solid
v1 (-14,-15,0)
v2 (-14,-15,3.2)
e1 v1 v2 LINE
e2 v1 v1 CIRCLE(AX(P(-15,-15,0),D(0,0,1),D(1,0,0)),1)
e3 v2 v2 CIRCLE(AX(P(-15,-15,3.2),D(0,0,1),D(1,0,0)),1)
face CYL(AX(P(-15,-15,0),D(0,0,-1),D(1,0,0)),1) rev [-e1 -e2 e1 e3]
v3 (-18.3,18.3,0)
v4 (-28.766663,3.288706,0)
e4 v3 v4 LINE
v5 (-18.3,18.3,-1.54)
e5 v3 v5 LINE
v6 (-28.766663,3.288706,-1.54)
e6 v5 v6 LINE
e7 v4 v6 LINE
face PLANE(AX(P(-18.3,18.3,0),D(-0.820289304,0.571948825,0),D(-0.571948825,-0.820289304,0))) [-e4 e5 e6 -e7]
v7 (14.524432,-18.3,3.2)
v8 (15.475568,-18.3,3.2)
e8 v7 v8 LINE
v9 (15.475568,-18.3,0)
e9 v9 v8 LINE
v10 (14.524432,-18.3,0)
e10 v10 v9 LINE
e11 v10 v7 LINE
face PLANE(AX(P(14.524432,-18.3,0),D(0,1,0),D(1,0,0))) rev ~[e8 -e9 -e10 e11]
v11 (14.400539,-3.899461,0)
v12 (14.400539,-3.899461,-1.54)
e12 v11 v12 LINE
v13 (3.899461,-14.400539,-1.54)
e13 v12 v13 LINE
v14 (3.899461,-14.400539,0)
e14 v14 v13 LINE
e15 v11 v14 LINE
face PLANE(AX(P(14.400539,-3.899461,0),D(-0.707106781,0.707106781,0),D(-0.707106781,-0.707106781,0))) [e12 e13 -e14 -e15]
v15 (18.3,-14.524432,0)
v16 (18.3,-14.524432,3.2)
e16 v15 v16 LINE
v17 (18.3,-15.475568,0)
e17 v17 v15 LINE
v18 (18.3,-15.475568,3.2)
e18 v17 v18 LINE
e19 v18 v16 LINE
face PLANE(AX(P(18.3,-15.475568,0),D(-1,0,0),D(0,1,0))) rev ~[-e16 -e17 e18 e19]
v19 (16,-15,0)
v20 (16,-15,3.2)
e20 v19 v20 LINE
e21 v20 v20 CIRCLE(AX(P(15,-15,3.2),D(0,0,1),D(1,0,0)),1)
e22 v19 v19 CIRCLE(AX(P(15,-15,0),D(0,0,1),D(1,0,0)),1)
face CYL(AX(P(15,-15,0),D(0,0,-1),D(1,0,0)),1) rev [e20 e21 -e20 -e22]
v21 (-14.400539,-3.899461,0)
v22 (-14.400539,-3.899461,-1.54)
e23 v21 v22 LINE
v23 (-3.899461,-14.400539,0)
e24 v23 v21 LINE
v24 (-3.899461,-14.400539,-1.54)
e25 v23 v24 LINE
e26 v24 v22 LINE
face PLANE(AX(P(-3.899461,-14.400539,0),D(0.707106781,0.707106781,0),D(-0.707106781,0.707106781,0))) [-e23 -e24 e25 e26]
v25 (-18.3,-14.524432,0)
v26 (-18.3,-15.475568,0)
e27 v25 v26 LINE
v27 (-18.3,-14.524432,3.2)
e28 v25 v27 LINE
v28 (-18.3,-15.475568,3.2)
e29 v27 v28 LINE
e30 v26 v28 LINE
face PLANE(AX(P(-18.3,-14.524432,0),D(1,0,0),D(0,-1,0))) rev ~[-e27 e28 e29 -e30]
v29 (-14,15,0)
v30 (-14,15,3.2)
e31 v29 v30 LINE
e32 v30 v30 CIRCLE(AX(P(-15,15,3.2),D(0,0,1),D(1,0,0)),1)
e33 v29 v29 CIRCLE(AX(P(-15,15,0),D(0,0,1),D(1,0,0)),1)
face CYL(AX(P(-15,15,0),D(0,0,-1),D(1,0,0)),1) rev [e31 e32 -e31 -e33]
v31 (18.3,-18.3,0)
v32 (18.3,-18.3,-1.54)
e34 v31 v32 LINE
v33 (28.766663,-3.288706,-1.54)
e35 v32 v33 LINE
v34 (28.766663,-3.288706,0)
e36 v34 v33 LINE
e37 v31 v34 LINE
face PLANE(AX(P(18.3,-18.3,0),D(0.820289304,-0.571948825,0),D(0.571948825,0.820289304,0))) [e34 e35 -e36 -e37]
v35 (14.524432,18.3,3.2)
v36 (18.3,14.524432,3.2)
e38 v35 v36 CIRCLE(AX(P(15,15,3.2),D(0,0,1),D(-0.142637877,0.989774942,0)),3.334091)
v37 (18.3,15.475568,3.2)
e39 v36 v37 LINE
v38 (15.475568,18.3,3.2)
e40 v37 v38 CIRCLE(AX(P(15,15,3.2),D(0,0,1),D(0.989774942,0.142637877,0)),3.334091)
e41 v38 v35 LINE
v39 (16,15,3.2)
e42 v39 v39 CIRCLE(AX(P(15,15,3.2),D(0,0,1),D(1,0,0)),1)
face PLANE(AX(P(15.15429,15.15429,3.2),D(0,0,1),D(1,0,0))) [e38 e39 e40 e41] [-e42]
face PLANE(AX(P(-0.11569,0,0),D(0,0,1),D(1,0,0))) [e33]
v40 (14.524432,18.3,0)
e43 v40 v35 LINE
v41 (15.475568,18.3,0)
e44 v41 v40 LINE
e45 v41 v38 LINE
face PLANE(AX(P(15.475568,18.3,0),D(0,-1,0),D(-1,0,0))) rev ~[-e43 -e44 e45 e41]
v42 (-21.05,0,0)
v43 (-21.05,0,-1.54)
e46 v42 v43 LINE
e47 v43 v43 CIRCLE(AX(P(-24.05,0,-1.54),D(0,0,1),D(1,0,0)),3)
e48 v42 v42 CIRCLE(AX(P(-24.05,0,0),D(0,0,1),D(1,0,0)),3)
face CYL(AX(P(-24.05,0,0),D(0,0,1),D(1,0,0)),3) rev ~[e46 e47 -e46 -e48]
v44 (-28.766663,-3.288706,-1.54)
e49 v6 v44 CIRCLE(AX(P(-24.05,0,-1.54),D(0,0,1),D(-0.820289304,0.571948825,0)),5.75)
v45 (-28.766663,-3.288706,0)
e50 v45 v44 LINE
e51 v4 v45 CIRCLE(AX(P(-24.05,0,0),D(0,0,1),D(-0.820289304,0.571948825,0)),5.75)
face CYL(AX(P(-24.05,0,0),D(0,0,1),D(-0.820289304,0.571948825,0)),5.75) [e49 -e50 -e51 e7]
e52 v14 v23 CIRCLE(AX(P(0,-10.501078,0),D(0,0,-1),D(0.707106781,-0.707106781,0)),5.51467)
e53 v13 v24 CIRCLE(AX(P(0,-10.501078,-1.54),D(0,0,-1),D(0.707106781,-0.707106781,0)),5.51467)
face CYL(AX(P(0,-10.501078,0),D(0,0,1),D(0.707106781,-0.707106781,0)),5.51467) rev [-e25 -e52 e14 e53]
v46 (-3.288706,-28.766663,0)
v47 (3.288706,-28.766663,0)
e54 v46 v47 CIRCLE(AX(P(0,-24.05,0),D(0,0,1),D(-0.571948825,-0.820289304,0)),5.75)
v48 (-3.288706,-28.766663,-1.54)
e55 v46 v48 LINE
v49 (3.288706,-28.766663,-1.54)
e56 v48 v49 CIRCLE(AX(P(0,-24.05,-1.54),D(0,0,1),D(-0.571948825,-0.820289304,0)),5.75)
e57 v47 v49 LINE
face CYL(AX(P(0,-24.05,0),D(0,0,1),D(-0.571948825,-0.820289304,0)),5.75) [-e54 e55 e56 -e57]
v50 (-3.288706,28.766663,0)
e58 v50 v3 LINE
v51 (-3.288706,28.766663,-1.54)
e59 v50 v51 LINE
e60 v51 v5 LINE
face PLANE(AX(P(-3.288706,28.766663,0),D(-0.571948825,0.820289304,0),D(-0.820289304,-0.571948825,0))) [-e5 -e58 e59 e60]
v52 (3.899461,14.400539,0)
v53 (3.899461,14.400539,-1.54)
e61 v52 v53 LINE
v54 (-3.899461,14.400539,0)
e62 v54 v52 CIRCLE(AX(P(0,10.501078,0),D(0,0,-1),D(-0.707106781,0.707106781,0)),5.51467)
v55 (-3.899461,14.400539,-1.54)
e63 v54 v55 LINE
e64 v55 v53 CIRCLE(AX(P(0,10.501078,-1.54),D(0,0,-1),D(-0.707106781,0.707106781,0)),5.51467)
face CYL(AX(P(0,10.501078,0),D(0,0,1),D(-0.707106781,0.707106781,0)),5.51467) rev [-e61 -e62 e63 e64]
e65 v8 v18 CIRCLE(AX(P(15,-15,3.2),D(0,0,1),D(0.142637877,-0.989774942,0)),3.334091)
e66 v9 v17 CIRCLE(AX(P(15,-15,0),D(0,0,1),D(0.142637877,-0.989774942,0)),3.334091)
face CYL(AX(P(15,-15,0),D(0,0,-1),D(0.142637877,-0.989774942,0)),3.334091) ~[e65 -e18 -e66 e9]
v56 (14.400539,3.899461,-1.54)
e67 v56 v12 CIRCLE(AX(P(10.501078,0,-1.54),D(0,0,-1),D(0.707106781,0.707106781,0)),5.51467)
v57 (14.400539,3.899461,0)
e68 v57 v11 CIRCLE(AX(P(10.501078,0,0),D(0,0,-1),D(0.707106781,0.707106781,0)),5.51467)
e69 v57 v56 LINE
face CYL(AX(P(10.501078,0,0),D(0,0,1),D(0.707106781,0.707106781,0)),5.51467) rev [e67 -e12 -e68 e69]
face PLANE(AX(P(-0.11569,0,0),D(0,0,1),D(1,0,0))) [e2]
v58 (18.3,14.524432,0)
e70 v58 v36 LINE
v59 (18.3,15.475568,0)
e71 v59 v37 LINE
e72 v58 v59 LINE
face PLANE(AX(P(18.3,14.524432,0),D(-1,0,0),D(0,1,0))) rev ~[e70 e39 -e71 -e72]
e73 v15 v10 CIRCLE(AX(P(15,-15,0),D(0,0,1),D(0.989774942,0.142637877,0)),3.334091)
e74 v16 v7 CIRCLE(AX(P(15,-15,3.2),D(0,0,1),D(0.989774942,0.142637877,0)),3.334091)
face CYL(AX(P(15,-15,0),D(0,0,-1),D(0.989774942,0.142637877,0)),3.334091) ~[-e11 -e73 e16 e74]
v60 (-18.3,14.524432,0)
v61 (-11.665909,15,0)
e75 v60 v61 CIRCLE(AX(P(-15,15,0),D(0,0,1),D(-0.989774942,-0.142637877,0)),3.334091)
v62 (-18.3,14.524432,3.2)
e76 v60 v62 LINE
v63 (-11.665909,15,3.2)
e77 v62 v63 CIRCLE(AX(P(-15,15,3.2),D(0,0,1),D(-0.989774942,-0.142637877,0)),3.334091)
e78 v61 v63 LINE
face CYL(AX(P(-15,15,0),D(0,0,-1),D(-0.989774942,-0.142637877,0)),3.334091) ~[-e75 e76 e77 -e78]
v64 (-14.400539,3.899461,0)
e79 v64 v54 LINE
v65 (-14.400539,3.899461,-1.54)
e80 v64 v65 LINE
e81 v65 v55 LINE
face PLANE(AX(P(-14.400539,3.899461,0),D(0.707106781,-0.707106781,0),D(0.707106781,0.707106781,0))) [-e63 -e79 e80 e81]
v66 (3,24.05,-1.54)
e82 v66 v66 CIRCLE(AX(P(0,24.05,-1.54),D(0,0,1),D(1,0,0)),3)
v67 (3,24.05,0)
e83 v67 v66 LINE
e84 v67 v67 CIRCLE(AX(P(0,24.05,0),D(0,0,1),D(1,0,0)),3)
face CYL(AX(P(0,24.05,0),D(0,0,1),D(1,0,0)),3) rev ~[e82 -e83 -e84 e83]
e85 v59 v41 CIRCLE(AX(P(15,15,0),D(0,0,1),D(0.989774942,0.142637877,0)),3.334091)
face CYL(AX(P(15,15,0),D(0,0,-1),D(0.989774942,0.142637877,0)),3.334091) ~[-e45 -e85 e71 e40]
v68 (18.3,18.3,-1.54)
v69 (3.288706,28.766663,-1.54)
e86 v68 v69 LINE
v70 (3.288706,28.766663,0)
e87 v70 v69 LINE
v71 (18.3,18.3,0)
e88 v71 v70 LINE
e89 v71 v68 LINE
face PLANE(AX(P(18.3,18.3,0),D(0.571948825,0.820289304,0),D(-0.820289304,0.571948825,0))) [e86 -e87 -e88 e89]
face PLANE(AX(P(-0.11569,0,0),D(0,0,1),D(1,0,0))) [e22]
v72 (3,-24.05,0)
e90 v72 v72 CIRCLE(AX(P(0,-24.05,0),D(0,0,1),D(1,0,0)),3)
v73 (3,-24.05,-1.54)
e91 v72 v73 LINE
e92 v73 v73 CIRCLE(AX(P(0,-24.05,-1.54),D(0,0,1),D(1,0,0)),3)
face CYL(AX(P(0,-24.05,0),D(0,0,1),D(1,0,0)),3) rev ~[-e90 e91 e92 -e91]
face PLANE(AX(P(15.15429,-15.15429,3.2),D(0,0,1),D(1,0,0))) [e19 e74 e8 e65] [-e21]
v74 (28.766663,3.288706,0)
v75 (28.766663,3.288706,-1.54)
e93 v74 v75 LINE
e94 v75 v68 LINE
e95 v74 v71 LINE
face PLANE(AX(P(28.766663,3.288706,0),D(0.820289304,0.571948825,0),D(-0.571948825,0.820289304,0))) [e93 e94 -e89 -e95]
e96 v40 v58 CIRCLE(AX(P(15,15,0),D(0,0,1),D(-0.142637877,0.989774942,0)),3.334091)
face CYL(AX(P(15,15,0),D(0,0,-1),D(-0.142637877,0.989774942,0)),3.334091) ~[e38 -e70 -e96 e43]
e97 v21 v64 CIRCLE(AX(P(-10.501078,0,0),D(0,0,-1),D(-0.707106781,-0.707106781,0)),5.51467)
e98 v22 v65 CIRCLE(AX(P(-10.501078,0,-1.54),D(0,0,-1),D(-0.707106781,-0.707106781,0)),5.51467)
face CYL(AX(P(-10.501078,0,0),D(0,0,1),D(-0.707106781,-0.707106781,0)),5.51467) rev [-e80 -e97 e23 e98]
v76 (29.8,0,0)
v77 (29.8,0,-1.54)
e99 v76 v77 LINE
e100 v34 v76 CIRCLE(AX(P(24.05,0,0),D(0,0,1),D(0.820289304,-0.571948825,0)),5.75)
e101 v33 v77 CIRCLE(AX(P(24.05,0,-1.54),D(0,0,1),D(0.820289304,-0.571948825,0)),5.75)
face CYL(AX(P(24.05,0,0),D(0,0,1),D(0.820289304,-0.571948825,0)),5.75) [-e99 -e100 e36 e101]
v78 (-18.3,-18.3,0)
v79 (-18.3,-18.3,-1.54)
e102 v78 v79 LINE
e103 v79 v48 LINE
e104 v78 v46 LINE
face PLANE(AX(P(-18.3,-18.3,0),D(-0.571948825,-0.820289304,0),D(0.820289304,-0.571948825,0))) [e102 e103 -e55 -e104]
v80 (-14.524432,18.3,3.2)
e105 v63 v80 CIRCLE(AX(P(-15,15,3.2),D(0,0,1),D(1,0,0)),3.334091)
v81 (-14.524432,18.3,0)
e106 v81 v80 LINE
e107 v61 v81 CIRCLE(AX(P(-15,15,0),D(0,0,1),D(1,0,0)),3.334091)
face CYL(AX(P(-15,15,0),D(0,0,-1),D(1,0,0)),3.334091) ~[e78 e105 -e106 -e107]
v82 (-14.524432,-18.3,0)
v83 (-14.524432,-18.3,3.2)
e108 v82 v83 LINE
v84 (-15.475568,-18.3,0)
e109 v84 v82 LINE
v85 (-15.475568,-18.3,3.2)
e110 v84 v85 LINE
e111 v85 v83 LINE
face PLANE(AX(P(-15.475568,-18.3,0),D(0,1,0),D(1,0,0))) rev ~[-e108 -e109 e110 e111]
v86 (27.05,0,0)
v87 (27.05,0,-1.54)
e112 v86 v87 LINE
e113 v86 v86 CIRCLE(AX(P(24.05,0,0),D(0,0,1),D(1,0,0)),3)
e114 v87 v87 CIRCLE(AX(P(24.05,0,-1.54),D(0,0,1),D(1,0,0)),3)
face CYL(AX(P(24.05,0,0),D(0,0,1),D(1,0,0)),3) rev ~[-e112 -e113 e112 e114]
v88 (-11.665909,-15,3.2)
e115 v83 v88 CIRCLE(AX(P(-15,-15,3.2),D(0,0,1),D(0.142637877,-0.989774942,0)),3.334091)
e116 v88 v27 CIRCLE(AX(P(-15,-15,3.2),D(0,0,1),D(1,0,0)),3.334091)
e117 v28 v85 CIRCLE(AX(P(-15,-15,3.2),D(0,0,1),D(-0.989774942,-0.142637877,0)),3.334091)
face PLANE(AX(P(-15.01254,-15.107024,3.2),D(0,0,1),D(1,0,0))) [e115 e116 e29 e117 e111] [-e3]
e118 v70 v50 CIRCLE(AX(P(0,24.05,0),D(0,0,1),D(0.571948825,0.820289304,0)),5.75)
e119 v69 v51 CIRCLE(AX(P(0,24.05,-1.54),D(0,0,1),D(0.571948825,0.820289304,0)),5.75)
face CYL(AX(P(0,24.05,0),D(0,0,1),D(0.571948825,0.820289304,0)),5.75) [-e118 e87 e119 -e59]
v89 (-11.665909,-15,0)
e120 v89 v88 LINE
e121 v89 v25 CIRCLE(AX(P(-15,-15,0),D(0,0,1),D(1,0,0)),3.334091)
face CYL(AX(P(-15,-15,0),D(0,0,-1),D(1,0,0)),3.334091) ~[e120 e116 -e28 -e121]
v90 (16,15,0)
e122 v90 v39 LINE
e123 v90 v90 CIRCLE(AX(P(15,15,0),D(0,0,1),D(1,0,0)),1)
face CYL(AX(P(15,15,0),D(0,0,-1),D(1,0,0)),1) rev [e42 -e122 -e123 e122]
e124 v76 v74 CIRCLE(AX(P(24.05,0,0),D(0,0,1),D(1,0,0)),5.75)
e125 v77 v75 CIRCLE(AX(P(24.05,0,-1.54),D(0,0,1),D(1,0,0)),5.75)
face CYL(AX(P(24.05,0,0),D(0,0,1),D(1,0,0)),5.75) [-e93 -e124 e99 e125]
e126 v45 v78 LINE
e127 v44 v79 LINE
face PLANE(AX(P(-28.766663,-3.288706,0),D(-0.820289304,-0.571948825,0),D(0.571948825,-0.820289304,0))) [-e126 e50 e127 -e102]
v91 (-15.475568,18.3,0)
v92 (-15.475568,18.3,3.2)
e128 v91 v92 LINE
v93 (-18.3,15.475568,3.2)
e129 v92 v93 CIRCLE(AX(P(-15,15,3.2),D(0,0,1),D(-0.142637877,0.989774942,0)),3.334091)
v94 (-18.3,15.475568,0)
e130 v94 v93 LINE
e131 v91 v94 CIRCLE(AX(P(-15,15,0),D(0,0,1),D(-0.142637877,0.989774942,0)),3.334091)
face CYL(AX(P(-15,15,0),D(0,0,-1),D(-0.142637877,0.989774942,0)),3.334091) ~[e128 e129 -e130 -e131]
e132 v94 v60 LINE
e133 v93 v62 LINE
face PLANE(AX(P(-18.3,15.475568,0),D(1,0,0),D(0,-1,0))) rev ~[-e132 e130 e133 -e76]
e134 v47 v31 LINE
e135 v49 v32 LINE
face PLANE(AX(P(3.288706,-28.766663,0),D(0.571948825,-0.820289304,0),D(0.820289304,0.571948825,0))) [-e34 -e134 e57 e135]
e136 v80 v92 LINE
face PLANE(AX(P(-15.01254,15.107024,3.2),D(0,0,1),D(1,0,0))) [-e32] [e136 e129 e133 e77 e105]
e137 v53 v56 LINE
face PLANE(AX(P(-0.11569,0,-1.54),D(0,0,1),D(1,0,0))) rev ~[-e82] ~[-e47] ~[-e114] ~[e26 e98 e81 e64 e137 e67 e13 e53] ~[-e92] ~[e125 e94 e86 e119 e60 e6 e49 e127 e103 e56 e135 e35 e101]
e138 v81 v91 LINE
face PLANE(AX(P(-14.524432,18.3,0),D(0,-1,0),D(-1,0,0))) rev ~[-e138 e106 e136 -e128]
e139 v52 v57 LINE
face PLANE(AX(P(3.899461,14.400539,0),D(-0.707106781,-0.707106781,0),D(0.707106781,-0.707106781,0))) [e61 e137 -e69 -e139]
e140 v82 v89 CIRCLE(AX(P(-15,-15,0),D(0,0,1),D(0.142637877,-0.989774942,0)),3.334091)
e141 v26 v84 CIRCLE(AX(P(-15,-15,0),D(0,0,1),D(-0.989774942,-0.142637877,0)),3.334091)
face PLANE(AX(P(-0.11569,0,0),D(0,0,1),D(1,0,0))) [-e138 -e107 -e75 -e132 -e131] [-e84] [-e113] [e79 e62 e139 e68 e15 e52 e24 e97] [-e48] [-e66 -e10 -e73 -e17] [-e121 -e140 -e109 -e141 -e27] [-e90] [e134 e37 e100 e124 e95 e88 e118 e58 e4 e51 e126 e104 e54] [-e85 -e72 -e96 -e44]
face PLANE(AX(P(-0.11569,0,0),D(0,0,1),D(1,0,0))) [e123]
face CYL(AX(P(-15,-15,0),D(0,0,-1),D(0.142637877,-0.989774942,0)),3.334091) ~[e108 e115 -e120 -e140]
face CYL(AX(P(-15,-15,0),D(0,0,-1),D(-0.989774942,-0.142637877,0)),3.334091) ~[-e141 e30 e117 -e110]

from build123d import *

# Parameters (mm, degrees)
F0_R     = 3
F0_R_2   = 1
F1_DEPTH = 1.54
F2_DEPTH = 3.2


with BuildPart() as f1:
    # F0 (on Top) → F1 (new body)
    with BuildSketch(Plane.XY):
        with BuildLine():
            Line((-2.26e-08, 18.3), (-14.5244322999, 18.3))
            ThreePointArc((-14.5244322999, 18.3), (-12.4799056806, 17.1829542503), (-11.6659087239, 15))
            ThreePointArc((-11.6659087239, 15), (-14.7616059709, 11.6744424642), (-18.3, 14.5244322999))
            Line((-18.3, 14.5244322999), (-18.3, 0))
            Line((-18.3, 0), (-18.3, -14.5244322999))
            ThreePointArc((-18.3, -14.5244322999), (-14.7616059709, -11.6744424642), (-11.6659087239, -15))
            ThreePointArc((-11.6659087239, -15), (-12.4799056806, -17.1829542503), (-14.5244322999, -18.3))
            Line((-14.5244322999, -18.3), (0, -18.3))
            Line((0, -18.3), (14.5244322999, -18.3))
            ThreePointArc((14.5244322999, -18.3), (12.6424414496, -12.6424414496), (18.3, -14.5244322999))
            Line((18.3, -14.5244322999), (18.3, -7.7e-09))
            Line((18.3, -7.7e-09), (18.3, 14.5244322999))
            ThreePointArc((18.3, 14.5244322999), (12.6424414496, 12.6424414496), (14.5244322999, 18.3))
            Line((14.5244322999, 18.3), (-2.26e-08, 18.3))
        make_face()
        with BuildLine():
            ThreePointArc((-14.4005392066, -3.8994607934), (-16.0157487532, 0), (-14.4005392066, 3.8994607934))
            Line((-14.4005392066, 3.8994607934), (-3.8994607934, 14.4005392066))
            ThreePointArc((-3.8994607934, 14.4005392066), (0, 16.0157487532), (3.8994607934, 14.4005392066))
            Line((3.8994607934, 14.4005392066), (14.4005392066, 3.8994607934))
            ThreePointArc((14.4005392066, 3.8994607934), (16.0157487532, 0), (14.4005392066, -3.8994607934))
            Line((14.4005392066, -3.8994607934), (3.8994607934, -14.4005392066))
            ThreePointArc((3.8994607934, -14.4005392066), (0, -16.0157487532), (-3.8994607934, -14.4005392066))
            Line((-3.8994607934, -14.4005392066), (-14.4005392066, -3.8994607934))
        make_face(mode=Mode.SUBTRACT)
        with BuildLine():
            Line((-3.2887057433, 28.766663496), (-18.3, 18.3))
            Line((-18.3, 18.3), (-15.4755677001, 18.3))
            ThreePointArc((-15.4755677001, 18.3), (-15, 18.3340912761), (-14.5244322999, 18.3))
            Line((-14.5244322999, 18.3), (-2.26e-08, 18.3))
            ThreePointArc((-2.26e-08, 18.3), (-5.4855863486, 22.3263868149), (-3.2887057433, 28.766663496))
        make_face()
        with BuildLine():
            Line((18.3, 18.3), (3.2887057433, 28.766663496))
            ThreePointArc((3.2887057433, 28.766663496), (5.0976738825, 26.7101167245), (5.75, 24.05))
            ThreePointArc((5.75, 24.05), (4.0658639838, 19.9841360002), (-2.26e-08, 18.3))
            Line((-2.26e-08, 18.3), (14.5244322999, 18.3))
            ThreePointArc((14.5244322999, 18.3), (15, 18.3340912761), (15.4755677001, 18.3))
            Line((15.4755677001, 18.3), (18.3, 18.3))
        make_face()
        with BuildLine():
            ThreePointArc((3.2887057433, 28.766663496), (0, 29.8), (-3.2887057433, 28.766663496))
            ThreePointArc((-3.2887057433, 28.766663496), (-5.4855863486, 22.3263868149), (-2.26e-08, 18.3))
            ThreePointArc((-2.26e-08, 18.3), (4.0658639838, 19.9841360002), (5.75, 24.05))
            ThreePointArc((5.75, 24.05), (5.0976738825, 26.7101167245), (3.2887057433, 28.766663496))
        make_face()
        with Locations((0, 24.05)):
            Circle(F0_R, mode=Mode.SUBTRACT)
        with BuildLine():
            Line((28.766663496, 3.2887057433), (18.3, 18.3))
            Line((18.3, 18.3), (18.3, 15.4755677001))
            ThreePointArc((18.3, 15.4755677001), (18.3255575358, 15.2383940291), (18.3340912761, 15))
            ThreePointArc((18.3340912761, 15), (18.3255575358, 14.7616059709), (18.3, 14.5244322999))
            Line((18.3, 14.5244322999), (18.3, -7.7e-09))
            ThreePointArc((18.3, -7.7e-09), (22.3263868004, 5.4855863441), (28.766663496, 3.2887057433))
        make_face()
        with BuildLine():
            ThreePointArc((28.766663496, -3.2887057433), (22.3263868078, -5.4855863464), (18.3, -7.7e-09))
            Line((18.3, -7.7e-09), (18.3, -14.5244322999))
            ThreePointArc((18.3, -14.5244322999), (18.3255575358, -14.7616059709), (18.3340912761, -15))
            ThreePointArc((18.3340912761, -15), (18.3255575358, -15.2383940291), (18.3, -15.4755677001))
            Line((18.3, -15.4755677001), (18.3, -18.3))
            Line((18.3, -18.3), (28.766663496, -3.2887057433))
        make_face()
        with BuildLine():
            ThreePointArc((29.8, 0), (29.5355863452, 1.7236131959), (28.766663496, 3.2887057433))
            ThreePointArc((28.766663496, 3.2887057433), (22.3263868004, 5.4855863441), (18.3, -7.7e-09))
            ThreePointArc((18.3, -7.7e-09), (22.3263868078, -5.4855863464), (28.766663496, -3.2887057433))
            ThreePointArc((28.766663496, -3.2887057433), (29.5355863452, -1.7236131959), (29.8, 0))
        make_face()
        with Locations((24.05, 0)):
            Circle(F0_R, mode=Mode.SUBTRACT)
        with BuildLine():
            ThreePointArc((18.3, -14.5244322999), (12.6424414496, -12.6424414496), (14.5244322999, -18.3))
            Line((14.5244322999, -18.3), (15.4755677001, -18.3))
            ThreePointArc((15.4755677001, -18.3), (17.3575585504, -17.3575585504), (18.3, -15.4755677001))
            Line((18.3, -15.4755677001), (18.3, -14.5244322999))
        make_face()
        with Locations((15, -15)):
            Circle(F0_R_2, mode=Mode.SUBTRACT)
        with BuildLine():
            Line((15.4755677001, 18.3), (14.5244322999, 18.3))
            ThreePointArc((14.5244322999, 18.3), (12.6424414496, 12.6424414496), (18.3, 14.5244322999))
            Line((18.3, 14.5244322999), (18.3, 15.4755677001))
            ThreePointArc((18.3, 15.4755677001), (17.3575585504, 17.3575585504), (15.4755677001, 18.3))
        make_face()
        with Locations((15, 15)):
            Circle(F0_R_2, mode=Mode.SUBTRACT)
        with Locations((15, 15)):
            Circle(F0_R_2)
        with BuildLine():
            Line((18.3, 15.4755677001), (18.3, 18.3))
            Line((18.3, 18.3), (15.4755677001, 18.3))
            ThreePointArc((15.4755677001, 18.3), (17.3575585504, 17.3575585504), (18.3, 15.4755677001))
        make_face()
        with BuildLine():
            Line((-15.4755677001, 18.3), (-18.3, 18.3))
            Line((-18.3, 18.3), (-18.3, 15.4755677001))
            ThreePointArc((-18.3, 15.4755677001), (-17.3575585504, 17.3575585504), (-15.4755677001, 18.3))
        make_face()
        with BuildLine():
            Line((-14.5244322999, 18.3), (-15.4755677001, 18.3))
            ThreePointArc((-15.4755677001, 18.3), (-17.3575585504, 17.3575585504), (-18.3, 15.4755677001))
            Line((-18.3, 15.4755677001), (-18.3, 14.5244322999))
            ThreePointArc((-18.3, 14.5244322999), (-14.7616059709, 11.6744424642), (-11.6659087239, 15))
            ThreePointArc((-11.6659087239, 15), (-12.4799056806, 17.1829542503), (-14.5244322999, 18.3))
        make_face()
        with Locations((-15, 15)):
            Circle(F0_R_2, mode=Mode.SUBTRACT)
        with Locations((-15, 15)):
            Circle(F0_R_2)
        with BuildLine():
            ThreePointArc((-18.3, 0), (-22.3263868041, 5.4855863452), (-28.766663496, 3.2887057433))
            ThreePointArc((-28.766663496, 3.2887057433), (-29.8, 0), (-28.766663496, -3.2887057433))
            ThreePointArc((-28.766663496, -3.2887057433), (-22.3263868041, -5.4855863452), (-18.3, 0))
        make_face()
        with Locations((-24.05, 0)):
            Circle(F0_R, mode=Mode.SUBTRACT)
        with BuildLine():
            Line((-18.3, 15.4755677001), (-18.3, 18.3))
            Line((-18.3, 18.3), (-28.766663496, 3.2887057433))
            ThreePointArc((-28.766663496, 3.2887057433), (-22.3263868041, 5.4855863452), (-18.3, 0))
            Line((-18.3, 0), (-18.3, 14.5244322999))
            ThreePointArc((-18.3, 14.5244322999), (-18.3340912761, 15), (-18.3, 15.4755677001))
        make_face()
        with BuildLine():
            Line((-18.3, -14.5244322999), (-18.3, 0))
            ThreePointArc((-18.3, 0), (-22.3263868041, -5.4855863452), (-28.766663496, -3.2887057433))
            Line((-28.766663496, -3.2887057433), (-18.3, -18.3))
            Line((-18.3, -18.3), (-18.3, -15.4755677001))
            ThreePointArc((-18.3, -15.4755677001), (-18.3340912761, -15), (-18.3, -14.5244322999))
        make_face()
        with BuildLine():
            ThreePointArc((-11.6659087239, -15), (-14.7616059709, -11.6744424642), (-18.3, -14.5244322999))
            Line((-18.3, -14.5244322999), (-18.3, -15.4755677001))
            ThreePointArc((-18.3, -15.4755677001), (-17.3575585504, -17.3575585504), (-15.4755677001, -18.3))
            Line((-15.4755677001, -18.3), (-14.5244322999, -18.3))
            ThreePointArc((-14.5244322999, -18.3), (-12.4799056806, -17.1829542503), (-11.6659087239, -15))
        make_face()
        with Locations((-15, -15)):
            Circle(F0_R_2, mode=Mode.SUBTRACT)
        with Locations((-15, -15)):
            Circle(F0_R_2)
        with BuildLine():
            Line((-18.3, -15.4755677001), (-18.3, -18.3))
            Line((-18.3, -18.3), (-15.4755677001, -18.3))
            ThreePointArc((-15.4755677001, -18.3), (-17.3575585504, -17.3575585504), (-18.3, -15.4755677001))
        make_face()
        with BuildLine():
            Line((-15.4755677001, -18.3), (-18.3, -18.3))
            Line((-18.3, -18.3), (-3.2887057433, -28.766663496))
            ThreePointArc((-3.2887057433, -28.766663496), (-5.4855863452, -22.3263868041), (0, -18.3))
            Line((0, -18.3), (-14.5244322999, -18.3))
            ThreePointArc((-14.5244322999, -18.3), (-15, -18.3340912761), (-15.4755677001, -18.3))
        make_face()
        with BuildLine():
            ThreePointArc((0, -18.3), (-5.4855863452, -22.3263868041), (-3.2887057433, -28.766663496))
            ThreePointArc((-3.2887057433, -28.766663496), (0, -29.8), (3.2887057433, -28.766663496))
            ThreePointArc((3.2887057433, -28.766663496), (5.0976738825, -26.7101167245), (5.75, -24.05))
            ThreePointArc((5.75, -24.05), (4.0658639918, -19.9841360082), (0, -18.3))
        make_face()
        with Locations((0, -24.05)):
            Circle(F0_R, mode=Mode.SUBTRACT)
        with BuildLine():
            ThreePointArc((5.75, -24.05), (5.0976738825, -26.7101167245), (3.2887057433, -28.766663496))
            Line((3.2887057433, -28.766663496), (18.3, -18.3))
            Line((18.3, -18.3), (15.4755677001, -18.3))
            ThreePointArc((15.4755677001, -18.3), (15, -18.3340912761), (14.5244322999, -18.3))
            Line((14.5244322999, -18.3), (0, -18.3))
            ThreePointArc((0, -18.3), (4.0658639918, -19.9841360082), (5.75, -24.05))
        make_face()
        with BuildLine():
            Line((15.4755677001, -18.3), (18.3, -18.3))
            Line((18.3, -18.3), (18.3, -15.4755677001))
            ThreePointArc((18.3, -15.4755677001), (17.3575585504, -17.3575585504), (15.4755677001, -18.3))
        make_face()
        with Locations((15, -15)):
            Circle(F0_R_2)
        with BuildLine():
            Line((-14.5244322999, -18.3), (-15.4755677001, -18.3))
            ThreePointArc((-15.4755677001, -18.3), (-15, -18.3340912761), (-14.5244322999, -18.3))
        make_face()
        with BuildLine():
            Line((-18.3, -15.4755677001), (-18.3, -14.5244322999))
            ThreePointArc((-18.3, -14.5244322999), (-18.3340912761, -15), (-18.3, -15.4755677001))
        make_face()
        with BuildLine():
            Line((-18.3, 14.5244322999), (-18.3, 15.4755677001))
            ThreePointArc((-18.3, 15.4755677001), (-18.3340912761, 15), (-18.3, 14.5244322999))
        make_face()
        with BuildLine():
            ThreePointArc((-14.5244322999, 18.3), (-15, 18.3340912761), (-15.4755677001, 18.3))
            Line((-15.4755677001, 18.3), (-14.5244322999, 18.3))
        make_face()
        with BuildLine():
            ThreePointArc((15.4755677001, 18.3), (15, 18.3340912761), (14.5244322999, 18.3))
            Line((14.5244322999, 18.3), (15.4755677001, 18.3))
        make_face()
        with BuildLine():
            ThreePointArc((18.3340912761, 15), (18.3255575358, 15.2383940291), (18.3, 15.4755677001))
            Line((18.3, 15.4755677001), (18.3, 14.5244322999))
            ThreePointArc((18.3, 14.5244322999), (18.3255575358, 14.7616059709), (18.3340912761, 15))
        make_face()
        with BuildLine():
            Line((15.4755677001, -18.3), (14.5244322999, -18.3))
            ThreePointArc((14.5244322999, -18.3), (15, -18.3340912761), (15.4755677001, -18.3))
        make_face()
        with BuildLine():
            ThreePointArc((18.3340912761, -15), (18.3255575358, -14.7616059709), (18.3, -14.5244322999))
            Line((18.3, -14.5244322999), (18.3, -15.4755677001))
            ThreePointArc((18.3, -15.4755677001), (18.3255575358, -15.2383940291), (18.3340912761, -15))
        make_face()
    extrude(amount=-F1_DEPTH)

    # F0 (on Top) → F2 (join)
    with BuildSketch(Plane.XY):
        with BuildLine():
            ThreePointArc((-11.6659087239, -15), (-14.7616059709, -11.6744424642), (-18.3, -14.5244322999))
            Line((-18.3, -14.5244322999), (-18.3, -15.4755677001))
            ThreePointArc((-18.3, -15.4755677001), (-17.3575585504, -17.3575585504), (-15.4755677001, -18.3))
            Line((-15.4755677001, -18.3), (-14.5244322999, -18.3))
            ThreePointArc((-14.5244322999, -18.3), (-12.4799056806, -17.1829542503), (-11.6659087239, -15))
        make_face()
        with Locations((-15, -15)):
            Circle(F0_R_2, mode=Mode.SUBTRACT)
        with BuildLine():
            Line((-14.5244322999, 18.3), (-15.4755677001, 18.3))
            ThreePointArc((-15.4755677001, 18.3), (-17.3575585504, 17.3575585504), (-18.3, 15.4755677001))
            Line((-18.3, 15.4755677001), (-18.3, 14.5244322999))
            ThreePointArc((-18.3, 14.5244322999), (-14.7616059709, 11.6744424642), (-11.6659087239, 15))
            ThreePointArc((-11.6659087239, 15), (-12.4799056806, 17.1829542503), (-14.5244322999, 18.3))
        make_face()
        with Locations((-15, 15)):
            Circle(F0_R_2, mode=Mode.SUBTRACT)
        with BuildLine():
            ThreePointArc((18.3, -14.5244322999), (12.6424414496, -12.6424414496), (14.5244322999, -18.3))
            Line((14.5244322999, -18.3), (15.4755677001, -18.3))
            ThreePointArc((15.4755677001, -18.3), (17.3575585504, -17.3575585504), (18.3, -15.4755677001))
            Line((18.3, -15.4755677001), (18.3, -14.5244322999))
        make_face()
        with Locations((15, -15)):
            Circle(F0_R_2, mode=Mode.SUBTRACT)
        with BuildLine():
            Line((15.4755677001, 18.3), (14.5244322999, 18.3))
            ThreePointArc((14.5244322999, 18.3), (12.6424414496, 12.6424414496), (18.3, 14.5244322999))
            Line((18.3, 14.5244322999), (18.3, 15.4755677001))
            ThreePointArc((18.3, 15.4755677001), (17.3575585504, 17.3575585504), (15.4755677001, 18.3))
        make_face()
        with Locations((15, 15)):
            Circle(F0_R_2, mode=Mode.SUBTRACT)
    extrude(amount=F2_DEPTH)


solid = f1.part
